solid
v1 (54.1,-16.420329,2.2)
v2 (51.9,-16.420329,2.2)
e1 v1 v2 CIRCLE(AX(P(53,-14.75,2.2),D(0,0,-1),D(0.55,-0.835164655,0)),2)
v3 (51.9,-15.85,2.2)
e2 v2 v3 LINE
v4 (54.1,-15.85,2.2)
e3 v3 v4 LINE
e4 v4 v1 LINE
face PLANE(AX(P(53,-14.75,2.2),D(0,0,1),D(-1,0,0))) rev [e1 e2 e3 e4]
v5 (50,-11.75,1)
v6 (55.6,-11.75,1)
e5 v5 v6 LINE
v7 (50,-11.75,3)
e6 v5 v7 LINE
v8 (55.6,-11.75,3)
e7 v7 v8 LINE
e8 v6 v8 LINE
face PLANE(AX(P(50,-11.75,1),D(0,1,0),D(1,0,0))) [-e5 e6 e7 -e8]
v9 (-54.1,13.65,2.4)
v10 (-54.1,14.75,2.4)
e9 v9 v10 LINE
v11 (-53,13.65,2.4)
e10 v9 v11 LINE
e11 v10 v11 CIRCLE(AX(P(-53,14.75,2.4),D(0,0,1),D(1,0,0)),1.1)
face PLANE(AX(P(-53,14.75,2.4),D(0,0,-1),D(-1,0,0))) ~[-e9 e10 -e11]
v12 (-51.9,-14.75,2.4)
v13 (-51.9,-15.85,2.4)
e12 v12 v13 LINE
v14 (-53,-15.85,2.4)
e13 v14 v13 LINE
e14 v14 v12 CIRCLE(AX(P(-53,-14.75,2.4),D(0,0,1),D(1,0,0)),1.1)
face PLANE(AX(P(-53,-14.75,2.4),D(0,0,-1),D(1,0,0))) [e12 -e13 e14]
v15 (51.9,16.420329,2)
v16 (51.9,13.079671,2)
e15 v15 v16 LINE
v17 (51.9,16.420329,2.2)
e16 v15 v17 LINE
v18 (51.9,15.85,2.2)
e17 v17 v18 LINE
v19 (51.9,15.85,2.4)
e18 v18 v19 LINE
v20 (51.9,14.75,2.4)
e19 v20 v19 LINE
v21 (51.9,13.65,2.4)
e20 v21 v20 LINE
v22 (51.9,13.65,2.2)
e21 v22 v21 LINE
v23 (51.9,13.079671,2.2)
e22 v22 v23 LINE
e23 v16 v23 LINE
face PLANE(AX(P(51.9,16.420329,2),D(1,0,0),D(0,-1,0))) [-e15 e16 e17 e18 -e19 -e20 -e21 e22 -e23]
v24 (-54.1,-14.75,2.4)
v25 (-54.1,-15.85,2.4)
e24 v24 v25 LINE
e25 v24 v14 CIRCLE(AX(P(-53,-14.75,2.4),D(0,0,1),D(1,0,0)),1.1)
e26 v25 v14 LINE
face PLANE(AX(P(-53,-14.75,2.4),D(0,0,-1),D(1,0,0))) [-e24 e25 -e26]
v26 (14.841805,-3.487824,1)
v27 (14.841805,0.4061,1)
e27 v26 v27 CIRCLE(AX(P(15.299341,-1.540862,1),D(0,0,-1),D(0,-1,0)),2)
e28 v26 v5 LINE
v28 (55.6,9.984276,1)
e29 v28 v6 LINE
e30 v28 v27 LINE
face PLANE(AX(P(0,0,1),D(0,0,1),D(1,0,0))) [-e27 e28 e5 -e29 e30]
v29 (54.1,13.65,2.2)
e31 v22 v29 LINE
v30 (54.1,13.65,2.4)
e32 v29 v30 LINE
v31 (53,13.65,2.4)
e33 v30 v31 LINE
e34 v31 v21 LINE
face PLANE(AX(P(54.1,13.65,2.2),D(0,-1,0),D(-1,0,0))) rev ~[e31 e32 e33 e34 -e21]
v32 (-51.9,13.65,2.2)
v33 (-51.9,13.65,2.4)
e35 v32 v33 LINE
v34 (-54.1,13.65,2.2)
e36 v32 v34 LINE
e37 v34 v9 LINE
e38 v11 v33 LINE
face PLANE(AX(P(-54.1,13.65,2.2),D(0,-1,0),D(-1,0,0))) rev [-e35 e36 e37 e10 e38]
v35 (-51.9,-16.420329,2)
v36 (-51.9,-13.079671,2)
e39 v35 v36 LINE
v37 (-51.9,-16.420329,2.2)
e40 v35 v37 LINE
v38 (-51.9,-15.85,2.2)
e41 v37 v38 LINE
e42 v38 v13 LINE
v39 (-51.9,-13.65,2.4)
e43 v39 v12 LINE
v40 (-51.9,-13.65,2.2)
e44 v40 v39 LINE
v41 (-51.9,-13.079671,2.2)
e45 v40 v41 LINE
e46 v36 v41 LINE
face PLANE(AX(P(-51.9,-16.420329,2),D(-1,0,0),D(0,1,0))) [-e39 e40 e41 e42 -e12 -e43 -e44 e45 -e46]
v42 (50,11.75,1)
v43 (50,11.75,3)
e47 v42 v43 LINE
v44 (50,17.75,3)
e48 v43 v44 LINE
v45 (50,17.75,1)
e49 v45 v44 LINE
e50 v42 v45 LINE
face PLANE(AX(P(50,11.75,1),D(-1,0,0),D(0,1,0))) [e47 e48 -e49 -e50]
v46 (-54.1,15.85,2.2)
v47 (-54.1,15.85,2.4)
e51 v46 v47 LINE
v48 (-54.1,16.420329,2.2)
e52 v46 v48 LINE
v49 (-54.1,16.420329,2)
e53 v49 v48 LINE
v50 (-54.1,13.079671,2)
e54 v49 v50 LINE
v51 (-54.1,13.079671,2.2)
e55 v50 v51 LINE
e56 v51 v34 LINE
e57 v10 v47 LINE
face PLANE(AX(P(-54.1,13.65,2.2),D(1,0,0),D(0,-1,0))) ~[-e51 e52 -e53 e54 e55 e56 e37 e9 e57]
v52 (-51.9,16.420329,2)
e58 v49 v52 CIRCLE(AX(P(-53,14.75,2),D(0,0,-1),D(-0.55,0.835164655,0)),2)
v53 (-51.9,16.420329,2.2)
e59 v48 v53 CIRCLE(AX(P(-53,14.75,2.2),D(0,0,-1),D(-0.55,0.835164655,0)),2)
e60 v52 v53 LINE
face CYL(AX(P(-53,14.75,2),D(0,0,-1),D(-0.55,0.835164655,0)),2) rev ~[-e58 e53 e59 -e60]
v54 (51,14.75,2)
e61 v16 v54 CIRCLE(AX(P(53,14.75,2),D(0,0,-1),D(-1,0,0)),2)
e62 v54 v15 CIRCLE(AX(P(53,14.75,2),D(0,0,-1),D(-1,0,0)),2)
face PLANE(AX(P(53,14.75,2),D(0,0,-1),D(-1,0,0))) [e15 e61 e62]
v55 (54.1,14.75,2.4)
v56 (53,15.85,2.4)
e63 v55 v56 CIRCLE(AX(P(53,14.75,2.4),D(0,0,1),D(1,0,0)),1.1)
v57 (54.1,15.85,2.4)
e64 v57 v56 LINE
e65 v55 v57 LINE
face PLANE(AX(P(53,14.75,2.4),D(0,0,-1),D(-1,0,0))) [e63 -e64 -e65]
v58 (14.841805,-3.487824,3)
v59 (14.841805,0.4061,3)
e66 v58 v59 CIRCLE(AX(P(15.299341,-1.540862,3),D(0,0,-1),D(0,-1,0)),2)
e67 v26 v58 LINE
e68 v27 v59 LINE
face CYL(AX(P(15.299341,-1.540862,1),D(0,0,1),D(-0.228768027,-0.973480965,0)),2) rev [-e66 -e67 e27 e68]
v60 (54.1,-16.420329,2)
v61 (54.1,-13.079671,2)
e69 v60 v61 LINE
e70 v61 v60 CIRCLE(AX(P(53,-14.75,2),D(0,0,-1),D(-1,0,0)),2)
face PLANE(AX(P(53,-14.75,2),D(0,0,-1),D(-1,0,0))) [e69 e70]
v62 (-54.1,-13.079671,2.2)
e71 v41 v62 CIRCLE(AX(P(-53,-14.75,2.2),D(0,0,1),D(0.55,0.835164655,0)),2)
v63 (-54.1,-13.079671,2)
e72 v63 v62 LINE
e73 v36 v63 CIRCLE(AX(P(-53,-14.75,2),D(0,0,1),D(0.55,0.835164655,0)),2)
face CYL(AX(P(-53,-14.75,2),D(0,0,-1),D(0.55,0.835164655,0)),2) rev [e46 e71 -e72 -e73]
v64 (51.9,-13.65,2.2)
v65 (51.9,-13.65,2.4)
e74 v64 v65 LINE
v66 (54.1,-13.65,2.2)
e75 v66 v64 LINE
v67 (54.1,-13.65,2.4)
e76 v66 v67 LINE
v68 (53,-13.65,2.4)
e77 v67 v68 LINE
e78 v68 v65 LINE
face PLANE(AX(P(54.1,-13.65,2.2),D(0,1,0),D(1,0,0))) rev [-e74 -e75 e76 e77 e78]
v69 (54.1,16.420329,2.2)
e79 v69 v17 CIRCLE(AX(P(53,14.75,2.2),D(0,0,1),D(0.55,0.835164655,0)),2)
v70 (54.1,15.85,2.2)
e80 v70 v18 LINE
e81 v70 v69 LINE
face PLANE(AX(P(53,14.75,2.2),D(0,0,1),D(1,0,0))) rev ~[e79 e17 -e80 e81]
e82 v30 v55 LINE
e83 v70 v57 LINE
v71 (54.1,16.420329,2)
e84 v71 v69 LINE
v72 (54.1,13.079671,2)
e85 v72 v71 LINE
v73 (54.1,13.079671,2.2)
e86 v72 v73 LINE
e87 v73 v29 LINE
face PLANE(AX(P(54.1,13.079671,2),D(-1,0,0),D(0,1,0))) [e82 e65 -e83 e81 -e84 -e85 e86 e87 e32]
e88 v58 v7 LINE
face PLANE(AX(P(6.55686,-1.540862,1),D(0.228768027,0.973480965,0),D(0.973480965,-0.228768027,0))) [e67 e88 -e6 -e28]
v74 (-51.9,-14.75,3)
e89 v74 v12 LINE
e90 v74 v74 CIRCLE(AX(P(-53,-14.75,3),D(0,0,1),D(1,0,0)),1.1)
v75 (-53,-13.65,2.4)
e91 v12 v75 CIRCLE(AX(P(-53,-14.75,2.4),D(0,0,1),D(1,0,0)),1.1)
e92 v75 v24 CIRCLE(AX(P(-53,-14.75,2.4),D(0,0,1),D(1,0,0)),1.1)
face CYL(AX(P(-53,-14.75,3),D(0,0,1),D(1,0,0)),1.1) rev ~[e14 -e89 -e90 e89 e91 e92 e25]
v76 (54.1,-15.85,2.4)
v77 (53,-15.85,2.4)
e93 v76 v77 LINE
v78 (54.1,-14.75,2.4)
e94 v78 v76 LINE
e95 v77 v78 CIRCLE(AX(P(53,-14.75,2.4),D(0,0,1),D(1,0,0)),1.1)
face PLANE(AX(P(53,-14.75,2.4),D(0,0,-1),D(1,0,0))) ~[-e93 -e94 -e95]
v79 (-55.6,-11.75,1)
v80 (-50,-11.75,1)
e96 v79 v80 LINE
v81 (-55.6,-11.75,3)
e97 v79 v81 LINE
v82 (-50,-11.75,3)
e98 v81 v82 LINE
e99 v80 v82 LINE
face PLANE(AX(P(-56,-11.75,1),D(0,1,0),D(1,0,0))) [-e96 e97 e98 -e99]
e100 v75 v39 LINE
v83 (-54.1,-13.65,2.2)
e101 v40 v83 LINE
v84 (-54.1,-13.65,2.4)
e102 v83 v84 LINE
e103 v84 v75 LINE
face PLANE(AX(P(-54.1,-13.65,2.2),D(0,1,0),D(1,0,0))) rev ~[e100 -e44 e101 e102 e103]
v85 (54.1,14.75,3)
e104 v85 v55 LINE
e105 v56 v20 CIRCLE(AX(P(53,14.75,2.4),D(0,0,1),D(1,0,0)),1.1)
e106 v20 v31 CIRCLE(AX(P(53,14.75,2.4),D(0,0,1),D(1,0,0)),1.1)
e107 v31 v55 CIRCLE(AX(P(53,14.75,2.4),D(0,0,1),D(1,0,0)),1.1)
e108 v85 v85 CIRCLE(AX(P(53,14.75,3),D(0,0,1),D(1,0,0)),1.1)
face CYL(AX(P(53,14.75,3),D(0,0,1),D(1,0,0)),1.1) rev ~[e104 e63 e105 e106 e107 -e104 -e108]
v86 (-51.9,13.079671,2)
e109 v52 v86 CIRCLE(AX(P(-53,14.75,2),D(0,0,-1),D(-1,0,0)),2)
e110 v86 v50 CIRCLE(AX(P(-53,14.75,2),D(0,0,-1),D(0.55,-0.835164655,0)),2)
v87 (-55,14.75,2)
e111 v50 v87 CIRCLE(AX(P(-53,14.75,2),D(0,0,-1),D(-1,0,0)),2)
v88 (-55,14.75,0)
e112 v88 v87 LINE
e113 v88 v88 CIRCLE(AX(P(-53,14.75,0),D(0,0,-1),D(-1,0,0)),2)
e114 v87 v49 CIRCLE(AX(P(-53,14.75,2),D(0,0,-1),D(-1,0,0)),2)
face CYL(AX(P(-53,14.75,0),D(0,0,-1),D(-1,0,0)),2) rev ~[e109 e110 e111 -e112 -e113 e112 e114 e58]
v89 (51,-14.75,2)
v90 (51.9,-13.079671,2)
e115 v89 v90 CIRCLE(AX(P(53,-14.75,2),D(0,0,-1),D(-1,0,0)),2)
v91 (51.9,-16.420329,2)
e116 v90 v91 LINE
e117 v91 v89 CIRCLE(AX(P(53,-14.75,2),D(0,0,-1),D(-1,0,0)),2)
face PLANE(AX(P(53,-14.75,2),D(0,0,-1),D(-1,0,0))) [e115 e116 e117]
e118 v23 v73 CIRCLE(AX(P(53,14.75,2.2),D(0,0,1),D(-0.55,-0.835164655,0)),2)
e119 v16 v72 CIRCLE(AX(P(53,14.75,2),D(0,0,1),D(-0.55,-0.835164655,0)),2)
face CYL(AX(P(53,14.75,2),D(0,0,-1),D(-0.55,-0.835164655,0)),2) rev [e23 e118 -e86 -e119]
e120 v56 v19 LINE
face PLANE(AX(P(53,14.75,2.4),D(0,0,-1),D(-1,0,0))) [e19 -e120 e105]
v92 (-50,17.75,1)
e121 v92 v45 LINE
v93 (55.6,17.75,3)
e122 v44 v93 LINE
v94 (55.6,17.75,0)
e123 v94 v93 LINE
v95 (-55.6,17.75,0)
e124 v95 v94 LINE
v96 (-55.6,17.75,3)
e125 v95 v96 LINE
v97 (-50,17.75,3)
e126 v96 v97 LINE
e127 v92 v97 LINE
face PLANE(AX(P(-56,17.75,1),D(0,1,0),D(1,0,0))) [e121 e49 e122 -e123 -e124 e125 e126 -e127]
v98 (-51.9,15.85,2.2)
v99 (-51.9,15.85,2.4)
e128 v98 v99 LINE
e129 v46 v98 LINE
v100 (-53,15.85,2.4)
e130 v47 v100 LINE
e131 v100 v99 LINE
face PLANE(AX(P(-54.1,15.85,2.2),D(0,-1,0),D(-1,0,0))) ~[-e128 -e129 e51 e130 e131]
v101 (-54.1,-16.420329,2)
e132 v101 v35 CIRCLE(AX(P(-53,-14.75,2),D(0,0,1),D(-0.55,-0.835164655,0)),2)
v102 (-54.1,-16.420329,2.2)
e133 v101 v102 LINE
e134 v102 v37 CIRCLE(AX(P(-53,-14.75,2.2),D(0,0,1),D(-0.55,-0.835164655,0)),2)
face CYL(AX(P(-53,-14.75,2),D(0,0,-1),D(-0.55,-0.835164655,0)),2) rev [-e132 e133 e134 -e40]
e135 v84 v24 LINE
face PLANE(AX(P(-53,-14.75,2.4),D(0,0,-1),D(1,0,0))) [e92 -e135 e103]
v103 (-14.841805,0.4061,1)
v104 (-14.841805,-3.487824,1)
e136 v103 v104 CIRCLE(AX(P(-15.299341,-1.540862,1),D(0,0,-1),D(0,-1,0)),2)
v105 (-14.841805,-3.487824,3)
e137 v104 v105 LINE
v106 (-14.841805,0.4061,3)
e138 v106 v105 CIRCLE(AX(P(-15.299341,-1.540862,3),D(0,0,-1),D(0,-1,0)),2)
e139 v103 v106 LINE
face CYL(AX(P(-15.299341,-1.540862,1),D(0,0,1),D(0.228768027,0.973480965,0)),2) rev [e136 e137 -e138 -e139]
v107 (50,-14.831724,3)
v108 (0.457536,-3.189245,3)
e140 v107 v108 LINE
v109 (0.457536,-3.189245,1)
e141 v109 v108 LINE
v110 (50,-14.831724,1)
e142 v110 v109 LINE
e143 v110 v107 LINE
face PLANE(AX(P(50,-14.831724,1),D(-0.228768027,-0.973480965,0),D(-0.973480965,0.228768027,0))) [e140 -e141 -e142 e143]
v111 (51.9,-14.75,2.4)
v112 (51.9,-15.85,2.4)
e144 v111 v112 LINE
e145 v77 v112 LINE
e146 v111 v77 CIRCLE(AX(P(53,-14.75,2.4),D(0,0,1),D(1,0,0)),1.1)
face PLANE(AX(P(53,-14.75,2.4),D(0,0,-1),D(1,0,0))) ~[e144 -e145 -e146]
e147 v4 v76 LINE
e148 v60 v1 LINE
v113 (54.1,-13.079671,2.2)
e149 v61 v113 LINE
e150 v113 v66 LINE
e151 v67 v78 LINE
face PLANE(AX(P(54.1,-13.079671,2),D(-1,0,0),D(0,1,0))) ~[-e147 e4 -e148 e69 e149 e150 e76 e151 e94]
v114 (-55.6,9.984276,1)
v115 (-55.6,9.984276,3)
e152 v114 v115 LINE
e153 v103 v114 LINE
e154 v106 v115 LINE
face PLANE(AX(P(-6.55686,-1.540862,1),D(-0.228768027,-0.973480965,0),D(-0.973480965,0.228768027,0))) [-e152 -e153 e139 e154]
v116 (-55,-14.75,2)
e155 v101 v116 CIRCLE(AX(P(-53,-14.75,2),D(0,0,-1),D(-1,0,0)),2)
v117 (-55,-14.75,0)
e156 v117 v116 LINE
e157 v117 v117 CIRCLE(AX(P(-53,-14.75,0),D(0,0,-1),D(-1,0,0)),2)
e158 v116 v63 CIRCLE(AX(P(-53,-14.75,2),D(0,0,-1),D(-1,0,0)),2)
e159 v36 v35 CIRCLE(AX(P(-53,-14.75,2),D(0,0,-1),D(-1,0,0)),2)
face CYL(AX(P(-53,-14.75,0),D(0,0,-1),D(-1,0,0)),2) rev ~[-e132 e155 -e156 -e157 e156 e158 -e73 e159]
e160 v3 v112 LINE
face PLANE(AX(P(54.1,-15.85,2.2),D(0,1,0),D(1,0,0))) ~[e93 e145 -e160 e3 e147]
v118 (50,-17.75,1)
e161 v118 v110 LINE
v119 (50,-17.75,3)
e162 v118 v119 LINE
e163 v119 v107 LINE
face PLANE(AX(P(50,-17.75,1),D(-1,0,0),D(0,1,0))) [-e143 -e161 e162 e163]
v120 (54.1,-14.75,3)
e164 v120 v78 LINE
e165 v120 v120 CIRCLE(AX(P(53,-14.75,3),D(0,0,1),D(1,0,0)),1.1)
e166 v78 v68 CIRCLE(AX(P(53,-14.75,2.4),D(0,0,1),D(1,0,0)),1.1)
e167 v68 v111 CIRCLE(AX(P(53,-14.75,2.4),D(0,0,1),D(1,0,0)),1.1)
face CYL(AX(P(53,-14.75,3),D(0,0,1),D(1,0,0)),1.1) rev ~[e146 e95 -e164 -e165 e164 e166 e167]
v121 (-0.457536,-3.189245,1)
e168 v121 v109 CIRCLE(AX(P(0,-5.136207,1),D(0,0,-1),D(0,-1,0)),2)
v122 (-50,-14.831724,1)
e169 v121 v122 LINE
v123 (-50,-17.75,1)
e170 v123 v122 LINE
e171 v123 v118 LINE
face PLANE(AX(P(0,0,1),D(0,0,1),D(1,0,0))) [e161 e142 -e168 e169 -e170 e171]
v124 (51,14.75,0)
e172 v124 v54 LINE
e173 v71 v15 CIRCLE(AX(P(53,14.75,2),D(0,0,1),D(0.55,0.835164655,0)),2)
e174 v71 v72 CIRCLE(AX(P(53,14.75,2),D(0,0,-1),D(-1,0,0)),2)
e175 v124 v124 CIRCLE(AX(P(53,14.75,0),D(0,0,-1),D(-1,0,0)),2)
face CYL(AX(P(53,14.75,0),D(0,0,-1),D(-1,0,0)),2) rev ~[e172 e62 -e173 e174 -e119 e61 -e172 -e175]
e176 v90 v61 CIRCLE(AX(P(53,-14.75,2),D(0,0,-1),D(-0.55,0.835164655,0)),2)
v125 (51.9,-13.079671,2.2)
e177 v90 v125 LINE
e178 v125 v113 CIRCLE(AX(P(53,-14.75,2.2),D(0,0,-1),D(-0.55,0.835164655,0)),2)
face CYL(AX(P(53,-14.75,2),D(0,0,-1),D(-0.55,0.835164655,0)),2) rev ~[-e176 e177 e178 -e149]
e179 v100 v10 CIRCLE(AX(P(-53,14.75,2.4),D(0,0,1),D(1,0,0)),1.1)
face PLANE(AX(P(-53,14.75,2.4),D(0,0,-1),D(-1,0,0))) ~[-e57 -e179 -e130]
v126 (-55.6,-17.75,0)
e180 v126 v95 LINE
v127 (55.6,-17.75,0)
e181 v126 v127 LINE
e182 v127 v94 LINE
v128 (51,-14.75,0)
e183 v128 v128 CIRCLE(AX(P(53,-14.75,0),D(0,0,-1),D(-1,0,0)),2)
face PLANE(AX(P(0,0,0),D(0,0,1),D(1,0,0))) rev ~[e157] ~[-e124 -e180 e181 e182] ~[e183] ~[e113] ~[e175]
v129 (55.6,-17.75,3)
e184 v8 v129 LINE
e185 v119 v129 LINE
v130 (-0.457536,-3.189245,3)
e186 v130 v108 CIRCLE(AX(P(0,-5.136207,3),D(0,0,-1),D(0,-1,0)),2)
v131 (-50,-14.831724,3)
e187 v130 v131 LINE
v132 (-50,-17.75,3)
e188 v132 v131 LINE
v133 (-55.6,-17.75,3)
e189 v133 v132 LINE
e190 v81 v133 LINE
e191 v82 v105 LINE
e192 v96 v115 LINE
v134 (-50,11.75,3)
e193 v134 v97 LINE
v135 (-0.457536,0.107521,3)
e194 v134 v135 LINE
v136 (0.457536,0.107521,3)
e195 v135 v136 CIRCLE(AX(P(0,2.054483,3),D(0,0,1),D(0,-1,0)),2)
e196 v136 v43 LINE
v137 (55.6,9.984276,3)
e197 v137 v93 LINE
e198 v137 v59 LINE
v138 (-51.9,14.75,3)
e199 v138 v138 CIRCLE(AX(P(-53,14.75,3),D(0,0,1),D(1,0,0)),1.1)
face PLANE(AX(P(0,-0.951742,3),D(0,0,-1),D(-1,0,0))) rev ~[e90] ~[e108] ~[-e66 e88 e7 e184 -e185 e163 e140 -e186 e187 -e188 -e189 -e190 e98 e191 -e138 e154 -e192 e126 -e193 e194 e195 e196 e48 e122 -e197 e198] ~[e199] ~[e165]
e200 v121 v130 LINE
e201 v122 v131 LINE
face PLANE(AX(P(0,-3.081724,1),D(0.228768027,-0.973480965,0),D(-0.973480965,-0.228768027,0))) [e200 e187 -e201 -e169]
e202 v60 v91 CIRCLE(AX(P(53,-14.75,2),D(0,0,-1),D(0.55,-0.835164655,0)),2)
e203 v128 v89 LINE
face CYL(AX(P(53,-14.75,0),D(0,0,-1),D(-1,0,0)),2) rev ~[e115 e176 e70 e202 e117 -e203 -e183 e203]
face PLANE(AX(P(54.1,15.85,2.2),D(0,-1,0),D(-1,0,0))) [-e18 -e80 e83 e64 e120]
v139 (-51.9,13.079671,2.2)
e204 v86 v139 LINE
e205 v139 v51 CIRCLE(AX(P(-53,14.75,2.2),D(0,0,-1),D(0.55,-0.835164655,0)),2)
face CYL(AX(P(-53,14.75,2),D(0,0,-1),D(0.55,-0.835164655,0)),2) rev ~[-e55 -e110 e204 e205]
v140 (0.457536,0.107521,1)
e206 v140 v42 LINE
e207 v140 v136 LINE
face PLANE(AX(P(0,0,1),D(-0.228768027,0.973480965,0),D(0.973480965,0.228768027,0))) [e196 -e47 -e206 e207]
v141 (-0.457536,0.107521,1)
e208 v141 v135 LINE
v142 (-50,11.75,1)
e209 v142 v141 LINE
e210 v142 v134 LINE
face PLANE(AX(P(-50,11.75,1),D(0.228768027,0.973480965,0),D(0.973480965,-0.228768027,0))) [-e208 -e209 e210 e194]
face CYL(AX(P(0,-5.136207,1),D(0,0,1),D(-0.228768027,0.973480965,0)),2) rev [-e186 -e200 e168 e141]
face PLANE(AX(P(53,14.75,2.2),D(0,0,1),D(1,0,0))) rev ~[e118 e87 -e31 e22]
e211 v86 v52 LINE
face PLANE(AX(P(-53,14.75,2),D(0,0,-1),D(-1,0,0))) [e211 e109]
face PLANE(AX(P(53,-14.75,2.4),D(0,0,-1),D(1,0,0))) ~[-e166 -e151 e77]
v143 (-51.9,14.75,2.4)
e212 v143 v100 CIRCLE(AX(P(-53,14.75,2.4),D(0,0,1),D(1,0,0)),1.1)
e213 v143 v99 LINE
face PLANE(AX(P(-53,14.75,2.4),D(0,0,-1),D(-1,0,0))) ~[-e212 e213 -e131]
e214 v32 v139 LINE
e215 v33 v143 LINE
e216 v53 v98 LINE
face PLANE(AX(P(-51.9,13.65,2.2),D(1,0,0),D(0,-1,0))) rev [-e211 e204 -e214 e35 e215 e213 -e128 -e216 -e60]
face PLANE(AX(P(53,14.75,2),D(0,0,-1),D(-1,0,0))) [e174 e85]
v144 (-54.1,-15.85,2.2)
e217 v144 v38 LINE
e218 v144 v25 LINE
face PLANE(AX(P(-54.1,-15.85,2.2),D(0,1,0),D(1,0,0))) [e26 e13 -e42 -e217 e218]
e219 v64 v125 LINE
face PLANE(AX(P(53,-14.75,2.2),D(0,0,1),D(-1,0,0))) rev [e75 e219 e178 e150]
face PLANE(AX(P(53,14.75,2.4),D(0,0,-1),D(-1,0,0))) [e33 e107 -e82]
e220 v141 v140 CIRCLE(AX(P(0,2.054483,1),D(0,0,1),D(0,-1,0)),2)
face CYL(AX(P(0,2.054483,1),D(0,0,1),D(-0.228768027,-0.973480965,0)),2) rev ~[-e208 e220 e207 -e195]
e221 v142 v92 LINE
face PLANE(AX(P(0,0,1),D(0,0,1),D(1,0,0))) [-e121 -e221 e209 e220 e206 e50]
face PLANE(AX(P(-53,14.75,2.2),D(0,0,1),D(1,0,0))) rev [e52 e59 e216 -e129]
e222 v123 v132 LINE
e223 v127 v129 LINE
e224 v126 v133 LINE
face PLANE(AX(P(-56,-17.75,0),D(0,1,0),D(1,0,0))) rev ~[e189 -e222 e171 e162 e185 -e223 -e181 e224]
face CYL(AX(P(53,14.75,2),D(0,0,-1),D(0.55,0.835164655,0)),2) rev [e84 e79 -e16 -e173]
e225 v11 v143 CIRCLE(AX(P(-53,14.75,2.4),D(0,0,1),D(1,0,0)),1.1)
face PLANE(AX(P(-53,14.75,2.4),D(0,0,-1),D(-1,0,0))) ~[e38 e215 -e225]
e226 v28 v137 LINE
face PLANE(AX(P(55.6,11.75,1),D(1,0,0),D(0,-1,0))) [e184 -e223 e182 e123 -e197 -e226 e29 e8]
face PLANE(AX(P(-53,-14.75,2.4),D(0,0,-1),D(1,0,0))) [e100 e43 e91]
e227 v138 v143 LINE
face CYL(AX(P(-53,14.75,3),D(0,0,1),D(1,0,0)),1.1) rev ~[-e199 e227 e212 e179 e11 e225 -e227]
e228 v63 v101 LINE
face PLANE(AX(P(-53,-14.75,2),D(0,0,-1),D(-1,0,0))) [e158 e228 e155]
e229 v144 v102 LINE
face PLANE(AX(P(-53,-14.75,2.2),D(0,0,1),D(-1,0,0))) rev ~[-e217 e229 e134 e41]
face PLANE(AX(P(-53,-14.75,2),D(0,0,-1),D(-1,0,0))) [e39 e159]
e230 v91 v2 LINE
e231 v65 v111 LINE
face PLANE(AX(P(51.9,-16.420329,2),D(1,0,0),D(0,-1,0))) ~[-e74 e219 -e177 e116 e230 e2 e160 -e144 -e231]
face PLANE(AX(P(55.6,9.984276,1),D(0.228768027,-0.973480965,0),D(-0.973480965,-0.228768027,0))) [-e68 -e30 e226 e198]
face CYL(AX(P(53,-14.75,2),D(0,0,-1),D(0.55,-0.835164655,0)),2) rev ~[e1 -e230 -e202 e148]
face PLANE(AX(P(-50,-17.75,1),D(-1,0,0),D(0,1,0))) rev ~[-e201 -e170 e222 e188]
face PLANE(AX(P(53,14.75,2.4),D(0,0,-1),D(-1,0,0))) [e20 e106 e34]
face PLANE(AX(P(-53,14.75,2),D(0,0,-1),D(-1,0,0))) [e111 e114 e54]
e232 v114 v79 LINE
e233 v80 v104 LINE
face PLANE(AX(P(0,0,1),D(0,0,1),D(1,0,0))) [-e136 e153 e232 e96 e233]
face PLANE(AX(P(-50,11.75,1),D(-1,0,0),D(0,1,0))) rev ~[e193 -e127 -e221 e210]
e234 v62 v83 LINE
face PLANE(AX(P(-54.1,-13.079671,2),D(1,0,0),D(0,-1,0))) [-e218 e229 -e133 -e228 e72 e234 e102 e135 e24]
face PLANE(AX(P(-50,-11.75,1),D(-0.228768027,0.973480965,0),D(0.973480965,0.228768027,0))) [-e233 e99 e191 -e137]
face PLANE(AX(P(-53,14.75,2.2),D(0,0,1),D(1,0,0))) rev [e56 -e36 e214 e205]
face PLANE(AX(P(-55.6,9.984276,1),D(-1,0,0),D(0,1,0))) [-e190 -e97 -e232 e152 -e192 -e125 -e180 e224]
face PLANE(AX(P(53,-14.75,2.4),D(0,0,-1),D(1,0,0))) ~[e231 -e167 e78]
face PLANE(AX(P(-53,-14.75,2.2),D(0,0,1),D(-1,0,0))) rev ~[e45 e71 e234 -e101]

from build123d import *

# Parameters (mm, degrees)
SKETCH1_W                       = 112
SKETCH1_H                       = 35.5
BOSS_EXTRUDE1_DEPTH             = 1
SKETCH2_W                       = 6
SKETCH2_H                       = 6
BOSS_EXTRUDE2_DEPTH             = 2
SKETCH3_R                       = 1.1
CUT_EXTRUDE1_DEPTH              = 4
SKETCH4_R                       = 2
CUT_EXTRUDE2_DEPTH              = 2
CUT_EXTRUDE3_DEPTH              = 0.2
SKETCH6_W                       = 2.2
SKETCH6_H                       = 2.2
CUT_EXTRUDE4_DEPTH              = 0.2
MIRROR2_COPY_1_DEPTH            = 0.2
MIRROR2_COPY_2_SKETCH_W         = 2.2
MIRROR2_COPY_2_SKETCH_H         = 2.2
MIRROR2_COPY_2_DEPTH            = 0.2
SKETCH7_W                       = 0.4
SKETCH7_H                       = 35.5
CUT_EXTRUDE5_DEPTH              = 4
AUFSATZ_LINEAR_AUSTRAGEN2_DEPTH = 2
VERRUNDUNG1_R                   = 2


with BuildPart() as part:
    # Sketch1 → Boss-Extrude1 (new body)
    with BuildSketch(Plane.XY):
        Rectangle(SKETCH1_W, SKETCH1_H)
    extrude(amount=BOSS_EXTRUDE1_DEPTH)

    # Sketch2 → Boss-Extrude2 (add)
    with BuildSketch(Plane.XY.offset(1)):
        with Locations((-53, 14.75)):
            Rectangle(SKETCH2_W, SKETCH2_H)
        with Locations((-53, -14.75)):
            Rectangle(SKETCH2_W, SKETCH2_H)
        with Locations((53, -14.75)):
            Rectangle(SKETCH2_W, SKETCH2_H)
        with Locations((53, 14.75)):
            Rectangle(SKETCH2_W, SKETCH2_H)
    extrude(amount=BOSS_EXTRUDE2_DEPTH)

    # Sketch3 → Cut-Extrude1 (cut, through all)
    with BuildSketch(Plane.XY.offset(3)):
        with Locations((-53, 14.75)):
            Circle(SKETCH3_R)
        with Locations((-53, -14.75)):
            Circle(SKETCH3_R)
        with Locations((53, -14.75)):
            Circle(SKETCH3_R)
        with Locations((53, 14.75)):
            Circle(SKETCH3_R)
    extrude(amount=-CUT_EXTRUDE1_DEPTH, mode=Mode.SUBTRACT)

    # Sketch4 → Cut-Extrude2 (cut)
    with BuildSketch(Plane(origin=(0, 0, 0), x_dir=(-1, 0, 0), z_dir=(0, 0, -1))):
        with Locations((-53, 14.75)):
            Circle(SKETCH4_R)
        with Locations((-53, -14.75)):
            Circle(SKETCH4_R)
        with Locations((53, 14.75)):
            Circle(SKETCH4_R)
        with Locations((53, -14.75)):
            Circle(SKETCH4_R)
    extrude(amount=-CUT_EXTRUDE2_DEPTH, mode=Mode.SUBTRACT)

    # Sketch5 → Cut-Extrude3 (cut)
    with BuildSketch(Plane(origin=(0, 0, 2), x_dir=(-1, 0, 0), z_dir=(0, 0, -1))):
        with BuildLine():
            Line((-54.1, 13.079670691), (-54.1, 16.420329309))
            ThreePointArc((-54.1, 16.420329309), (-53, 16.75), (-51.9, 16.420329309))
            Line((-51.9, 16.420329309), (-51.9, 13.079670691))
            ThreePointArc((-51.9, 13.079670691), (-53, 12.75), (-54.1, 13.079670691))
        make_face()
    cut_extrude3 = extrude(amount=-CUT_EXTRUDE3_DEPTH, mode=Mode.SUBTRACT)

    # Sketch6 → Cut-Extrude4 (cut)
    with BuildSketch(Plane(origin=(0, 0, 2.2), x_dir=(-1, 0, 0), z_dir=(0, 0, -1))):
        with Locations((-53, 14.75)):
            Rectangle(SKETCH6_W, SKETCH6_H)
    cut_extrude4 = extrude(amount=-CUT_EXTRUDE4_DEPTH, mode=Mode.SUBTRACT)

    # Mirror1: Cut-Extrude3, Cut-Extrude4 across plane
    add(cut_extrude3.mirror(Plane(origin=(0, 0, 0), x_dir=(0, 0, 1), z_dir=(1, 0, 0))), mode=Mode.SUBTRACT)
    add(cut_extrude4.mirror(Plane(origin=(0, 0, 0), x_dir=(0, 0, 1), z_dir=(1, 0, 0))), mode=Mode.SUBTRACT)

    # Mirror2: Cut-Extrude3, Cut-Extrude4 across plane
    add(cut_extrude3.mirror(Plane.ZX), mode=Mode.SUBTRACT)
    add(cut_extrude4.mirror(Plane.ZX), mode=Mode.SUBTRACT)

    # Mirror2 copy 1 sketch → Mirror2 copy 1 (cut)
    with BuildSketch(Plane(origin=(0, 0, 2), x_dir=(1, 0, 0), z_dir=(0, 0, -1))):
        with BuildLine():
            Line((-54.1, 13.079670691), (-54.1, 16.420329309))
            ThreePointArc((-54.1, 16.420329309), (-53, 16.75), (-51.9, 16.420329309))
            Line((-51.9, 16.420329309), (-51.9, 13.079670691))
            ThreePointArc((-51.9, 13.079670691), (-53, 12.75), (-54.1, 13.079670691))
        make_face()
    extrude(amount=-MIRROR2_COPY_1_DEPTH, mode=Mode.SUBTRACT)

    # Mirror2 copy 2 sketch → Mirror2 copy 2 (cut)
    with BuildSketch(Plane(origin=(0, 0, 2.2), x_dir=(1, 0, 0), z_dir=(0, 0, -1))):
        with Locations((-53, 14.75)):
            Rectangle(MIRROR2_COPY_2_SKETCH_W, MIRROR2_COPY_2_SKETCH_H)
    extrude(amount=-MIRROR2_COPY_2_DEPTH, mode=Mode.SUBTRACT)

    # Sketch7 → Cut-Extrude5 (cut, through all)
    with BuildSketch(Plane(origin=(0, 0, 0), x_dir=(-1, 0, 0), z_dir=(0, 0, -1))):
        with Locations((-55.8, 0)):
            Rectangle(SKETCH7_W, SKETCH7_H)
        with Locations((55.8, 0)):
            Rectangle(SKETCH7_W, SKETCH7_H)
    extrude(amount=-CUT_EXTRUDE5_DEPTH, mode=Mode.SUBTRACT)

    # Skizze5 → Aufsatz-Linear austragen2 (add)
    with BuildSketch(Plane.XY.offset(1)):
        Polygon((-50, 11.75), (0, 0), (50, 11.75), (55.6, 11.75), (55.6, 9.984275645), (6.55686033, -1.540862177), (50, -11.75), (50, -14.831724355), (0, -3.081724355), (-50, -14.831724355), (-50, -11.75), (-6.55686033, -1.540862177), (-55.6, 9.984275645), (-55.6, 11.75), align=None)
    extrude(amount=AUFSATZ_LINEAR_AUSTRAGEN2_DEPTH)

    # Verrundung1
    verrundung1_edges = [part.edges().sort_by_distance(p)[0] for p in [
        (-6.55686033, -1.540862177, 2),
        (0, -3.081724355, 2),
        (6.55686033, -1.540862177, 2),
        (0, 0, 2),
    ]]
    fillet(verrundung1_edges, radius=VERRUNDUNG1_R)


solid = part.part
